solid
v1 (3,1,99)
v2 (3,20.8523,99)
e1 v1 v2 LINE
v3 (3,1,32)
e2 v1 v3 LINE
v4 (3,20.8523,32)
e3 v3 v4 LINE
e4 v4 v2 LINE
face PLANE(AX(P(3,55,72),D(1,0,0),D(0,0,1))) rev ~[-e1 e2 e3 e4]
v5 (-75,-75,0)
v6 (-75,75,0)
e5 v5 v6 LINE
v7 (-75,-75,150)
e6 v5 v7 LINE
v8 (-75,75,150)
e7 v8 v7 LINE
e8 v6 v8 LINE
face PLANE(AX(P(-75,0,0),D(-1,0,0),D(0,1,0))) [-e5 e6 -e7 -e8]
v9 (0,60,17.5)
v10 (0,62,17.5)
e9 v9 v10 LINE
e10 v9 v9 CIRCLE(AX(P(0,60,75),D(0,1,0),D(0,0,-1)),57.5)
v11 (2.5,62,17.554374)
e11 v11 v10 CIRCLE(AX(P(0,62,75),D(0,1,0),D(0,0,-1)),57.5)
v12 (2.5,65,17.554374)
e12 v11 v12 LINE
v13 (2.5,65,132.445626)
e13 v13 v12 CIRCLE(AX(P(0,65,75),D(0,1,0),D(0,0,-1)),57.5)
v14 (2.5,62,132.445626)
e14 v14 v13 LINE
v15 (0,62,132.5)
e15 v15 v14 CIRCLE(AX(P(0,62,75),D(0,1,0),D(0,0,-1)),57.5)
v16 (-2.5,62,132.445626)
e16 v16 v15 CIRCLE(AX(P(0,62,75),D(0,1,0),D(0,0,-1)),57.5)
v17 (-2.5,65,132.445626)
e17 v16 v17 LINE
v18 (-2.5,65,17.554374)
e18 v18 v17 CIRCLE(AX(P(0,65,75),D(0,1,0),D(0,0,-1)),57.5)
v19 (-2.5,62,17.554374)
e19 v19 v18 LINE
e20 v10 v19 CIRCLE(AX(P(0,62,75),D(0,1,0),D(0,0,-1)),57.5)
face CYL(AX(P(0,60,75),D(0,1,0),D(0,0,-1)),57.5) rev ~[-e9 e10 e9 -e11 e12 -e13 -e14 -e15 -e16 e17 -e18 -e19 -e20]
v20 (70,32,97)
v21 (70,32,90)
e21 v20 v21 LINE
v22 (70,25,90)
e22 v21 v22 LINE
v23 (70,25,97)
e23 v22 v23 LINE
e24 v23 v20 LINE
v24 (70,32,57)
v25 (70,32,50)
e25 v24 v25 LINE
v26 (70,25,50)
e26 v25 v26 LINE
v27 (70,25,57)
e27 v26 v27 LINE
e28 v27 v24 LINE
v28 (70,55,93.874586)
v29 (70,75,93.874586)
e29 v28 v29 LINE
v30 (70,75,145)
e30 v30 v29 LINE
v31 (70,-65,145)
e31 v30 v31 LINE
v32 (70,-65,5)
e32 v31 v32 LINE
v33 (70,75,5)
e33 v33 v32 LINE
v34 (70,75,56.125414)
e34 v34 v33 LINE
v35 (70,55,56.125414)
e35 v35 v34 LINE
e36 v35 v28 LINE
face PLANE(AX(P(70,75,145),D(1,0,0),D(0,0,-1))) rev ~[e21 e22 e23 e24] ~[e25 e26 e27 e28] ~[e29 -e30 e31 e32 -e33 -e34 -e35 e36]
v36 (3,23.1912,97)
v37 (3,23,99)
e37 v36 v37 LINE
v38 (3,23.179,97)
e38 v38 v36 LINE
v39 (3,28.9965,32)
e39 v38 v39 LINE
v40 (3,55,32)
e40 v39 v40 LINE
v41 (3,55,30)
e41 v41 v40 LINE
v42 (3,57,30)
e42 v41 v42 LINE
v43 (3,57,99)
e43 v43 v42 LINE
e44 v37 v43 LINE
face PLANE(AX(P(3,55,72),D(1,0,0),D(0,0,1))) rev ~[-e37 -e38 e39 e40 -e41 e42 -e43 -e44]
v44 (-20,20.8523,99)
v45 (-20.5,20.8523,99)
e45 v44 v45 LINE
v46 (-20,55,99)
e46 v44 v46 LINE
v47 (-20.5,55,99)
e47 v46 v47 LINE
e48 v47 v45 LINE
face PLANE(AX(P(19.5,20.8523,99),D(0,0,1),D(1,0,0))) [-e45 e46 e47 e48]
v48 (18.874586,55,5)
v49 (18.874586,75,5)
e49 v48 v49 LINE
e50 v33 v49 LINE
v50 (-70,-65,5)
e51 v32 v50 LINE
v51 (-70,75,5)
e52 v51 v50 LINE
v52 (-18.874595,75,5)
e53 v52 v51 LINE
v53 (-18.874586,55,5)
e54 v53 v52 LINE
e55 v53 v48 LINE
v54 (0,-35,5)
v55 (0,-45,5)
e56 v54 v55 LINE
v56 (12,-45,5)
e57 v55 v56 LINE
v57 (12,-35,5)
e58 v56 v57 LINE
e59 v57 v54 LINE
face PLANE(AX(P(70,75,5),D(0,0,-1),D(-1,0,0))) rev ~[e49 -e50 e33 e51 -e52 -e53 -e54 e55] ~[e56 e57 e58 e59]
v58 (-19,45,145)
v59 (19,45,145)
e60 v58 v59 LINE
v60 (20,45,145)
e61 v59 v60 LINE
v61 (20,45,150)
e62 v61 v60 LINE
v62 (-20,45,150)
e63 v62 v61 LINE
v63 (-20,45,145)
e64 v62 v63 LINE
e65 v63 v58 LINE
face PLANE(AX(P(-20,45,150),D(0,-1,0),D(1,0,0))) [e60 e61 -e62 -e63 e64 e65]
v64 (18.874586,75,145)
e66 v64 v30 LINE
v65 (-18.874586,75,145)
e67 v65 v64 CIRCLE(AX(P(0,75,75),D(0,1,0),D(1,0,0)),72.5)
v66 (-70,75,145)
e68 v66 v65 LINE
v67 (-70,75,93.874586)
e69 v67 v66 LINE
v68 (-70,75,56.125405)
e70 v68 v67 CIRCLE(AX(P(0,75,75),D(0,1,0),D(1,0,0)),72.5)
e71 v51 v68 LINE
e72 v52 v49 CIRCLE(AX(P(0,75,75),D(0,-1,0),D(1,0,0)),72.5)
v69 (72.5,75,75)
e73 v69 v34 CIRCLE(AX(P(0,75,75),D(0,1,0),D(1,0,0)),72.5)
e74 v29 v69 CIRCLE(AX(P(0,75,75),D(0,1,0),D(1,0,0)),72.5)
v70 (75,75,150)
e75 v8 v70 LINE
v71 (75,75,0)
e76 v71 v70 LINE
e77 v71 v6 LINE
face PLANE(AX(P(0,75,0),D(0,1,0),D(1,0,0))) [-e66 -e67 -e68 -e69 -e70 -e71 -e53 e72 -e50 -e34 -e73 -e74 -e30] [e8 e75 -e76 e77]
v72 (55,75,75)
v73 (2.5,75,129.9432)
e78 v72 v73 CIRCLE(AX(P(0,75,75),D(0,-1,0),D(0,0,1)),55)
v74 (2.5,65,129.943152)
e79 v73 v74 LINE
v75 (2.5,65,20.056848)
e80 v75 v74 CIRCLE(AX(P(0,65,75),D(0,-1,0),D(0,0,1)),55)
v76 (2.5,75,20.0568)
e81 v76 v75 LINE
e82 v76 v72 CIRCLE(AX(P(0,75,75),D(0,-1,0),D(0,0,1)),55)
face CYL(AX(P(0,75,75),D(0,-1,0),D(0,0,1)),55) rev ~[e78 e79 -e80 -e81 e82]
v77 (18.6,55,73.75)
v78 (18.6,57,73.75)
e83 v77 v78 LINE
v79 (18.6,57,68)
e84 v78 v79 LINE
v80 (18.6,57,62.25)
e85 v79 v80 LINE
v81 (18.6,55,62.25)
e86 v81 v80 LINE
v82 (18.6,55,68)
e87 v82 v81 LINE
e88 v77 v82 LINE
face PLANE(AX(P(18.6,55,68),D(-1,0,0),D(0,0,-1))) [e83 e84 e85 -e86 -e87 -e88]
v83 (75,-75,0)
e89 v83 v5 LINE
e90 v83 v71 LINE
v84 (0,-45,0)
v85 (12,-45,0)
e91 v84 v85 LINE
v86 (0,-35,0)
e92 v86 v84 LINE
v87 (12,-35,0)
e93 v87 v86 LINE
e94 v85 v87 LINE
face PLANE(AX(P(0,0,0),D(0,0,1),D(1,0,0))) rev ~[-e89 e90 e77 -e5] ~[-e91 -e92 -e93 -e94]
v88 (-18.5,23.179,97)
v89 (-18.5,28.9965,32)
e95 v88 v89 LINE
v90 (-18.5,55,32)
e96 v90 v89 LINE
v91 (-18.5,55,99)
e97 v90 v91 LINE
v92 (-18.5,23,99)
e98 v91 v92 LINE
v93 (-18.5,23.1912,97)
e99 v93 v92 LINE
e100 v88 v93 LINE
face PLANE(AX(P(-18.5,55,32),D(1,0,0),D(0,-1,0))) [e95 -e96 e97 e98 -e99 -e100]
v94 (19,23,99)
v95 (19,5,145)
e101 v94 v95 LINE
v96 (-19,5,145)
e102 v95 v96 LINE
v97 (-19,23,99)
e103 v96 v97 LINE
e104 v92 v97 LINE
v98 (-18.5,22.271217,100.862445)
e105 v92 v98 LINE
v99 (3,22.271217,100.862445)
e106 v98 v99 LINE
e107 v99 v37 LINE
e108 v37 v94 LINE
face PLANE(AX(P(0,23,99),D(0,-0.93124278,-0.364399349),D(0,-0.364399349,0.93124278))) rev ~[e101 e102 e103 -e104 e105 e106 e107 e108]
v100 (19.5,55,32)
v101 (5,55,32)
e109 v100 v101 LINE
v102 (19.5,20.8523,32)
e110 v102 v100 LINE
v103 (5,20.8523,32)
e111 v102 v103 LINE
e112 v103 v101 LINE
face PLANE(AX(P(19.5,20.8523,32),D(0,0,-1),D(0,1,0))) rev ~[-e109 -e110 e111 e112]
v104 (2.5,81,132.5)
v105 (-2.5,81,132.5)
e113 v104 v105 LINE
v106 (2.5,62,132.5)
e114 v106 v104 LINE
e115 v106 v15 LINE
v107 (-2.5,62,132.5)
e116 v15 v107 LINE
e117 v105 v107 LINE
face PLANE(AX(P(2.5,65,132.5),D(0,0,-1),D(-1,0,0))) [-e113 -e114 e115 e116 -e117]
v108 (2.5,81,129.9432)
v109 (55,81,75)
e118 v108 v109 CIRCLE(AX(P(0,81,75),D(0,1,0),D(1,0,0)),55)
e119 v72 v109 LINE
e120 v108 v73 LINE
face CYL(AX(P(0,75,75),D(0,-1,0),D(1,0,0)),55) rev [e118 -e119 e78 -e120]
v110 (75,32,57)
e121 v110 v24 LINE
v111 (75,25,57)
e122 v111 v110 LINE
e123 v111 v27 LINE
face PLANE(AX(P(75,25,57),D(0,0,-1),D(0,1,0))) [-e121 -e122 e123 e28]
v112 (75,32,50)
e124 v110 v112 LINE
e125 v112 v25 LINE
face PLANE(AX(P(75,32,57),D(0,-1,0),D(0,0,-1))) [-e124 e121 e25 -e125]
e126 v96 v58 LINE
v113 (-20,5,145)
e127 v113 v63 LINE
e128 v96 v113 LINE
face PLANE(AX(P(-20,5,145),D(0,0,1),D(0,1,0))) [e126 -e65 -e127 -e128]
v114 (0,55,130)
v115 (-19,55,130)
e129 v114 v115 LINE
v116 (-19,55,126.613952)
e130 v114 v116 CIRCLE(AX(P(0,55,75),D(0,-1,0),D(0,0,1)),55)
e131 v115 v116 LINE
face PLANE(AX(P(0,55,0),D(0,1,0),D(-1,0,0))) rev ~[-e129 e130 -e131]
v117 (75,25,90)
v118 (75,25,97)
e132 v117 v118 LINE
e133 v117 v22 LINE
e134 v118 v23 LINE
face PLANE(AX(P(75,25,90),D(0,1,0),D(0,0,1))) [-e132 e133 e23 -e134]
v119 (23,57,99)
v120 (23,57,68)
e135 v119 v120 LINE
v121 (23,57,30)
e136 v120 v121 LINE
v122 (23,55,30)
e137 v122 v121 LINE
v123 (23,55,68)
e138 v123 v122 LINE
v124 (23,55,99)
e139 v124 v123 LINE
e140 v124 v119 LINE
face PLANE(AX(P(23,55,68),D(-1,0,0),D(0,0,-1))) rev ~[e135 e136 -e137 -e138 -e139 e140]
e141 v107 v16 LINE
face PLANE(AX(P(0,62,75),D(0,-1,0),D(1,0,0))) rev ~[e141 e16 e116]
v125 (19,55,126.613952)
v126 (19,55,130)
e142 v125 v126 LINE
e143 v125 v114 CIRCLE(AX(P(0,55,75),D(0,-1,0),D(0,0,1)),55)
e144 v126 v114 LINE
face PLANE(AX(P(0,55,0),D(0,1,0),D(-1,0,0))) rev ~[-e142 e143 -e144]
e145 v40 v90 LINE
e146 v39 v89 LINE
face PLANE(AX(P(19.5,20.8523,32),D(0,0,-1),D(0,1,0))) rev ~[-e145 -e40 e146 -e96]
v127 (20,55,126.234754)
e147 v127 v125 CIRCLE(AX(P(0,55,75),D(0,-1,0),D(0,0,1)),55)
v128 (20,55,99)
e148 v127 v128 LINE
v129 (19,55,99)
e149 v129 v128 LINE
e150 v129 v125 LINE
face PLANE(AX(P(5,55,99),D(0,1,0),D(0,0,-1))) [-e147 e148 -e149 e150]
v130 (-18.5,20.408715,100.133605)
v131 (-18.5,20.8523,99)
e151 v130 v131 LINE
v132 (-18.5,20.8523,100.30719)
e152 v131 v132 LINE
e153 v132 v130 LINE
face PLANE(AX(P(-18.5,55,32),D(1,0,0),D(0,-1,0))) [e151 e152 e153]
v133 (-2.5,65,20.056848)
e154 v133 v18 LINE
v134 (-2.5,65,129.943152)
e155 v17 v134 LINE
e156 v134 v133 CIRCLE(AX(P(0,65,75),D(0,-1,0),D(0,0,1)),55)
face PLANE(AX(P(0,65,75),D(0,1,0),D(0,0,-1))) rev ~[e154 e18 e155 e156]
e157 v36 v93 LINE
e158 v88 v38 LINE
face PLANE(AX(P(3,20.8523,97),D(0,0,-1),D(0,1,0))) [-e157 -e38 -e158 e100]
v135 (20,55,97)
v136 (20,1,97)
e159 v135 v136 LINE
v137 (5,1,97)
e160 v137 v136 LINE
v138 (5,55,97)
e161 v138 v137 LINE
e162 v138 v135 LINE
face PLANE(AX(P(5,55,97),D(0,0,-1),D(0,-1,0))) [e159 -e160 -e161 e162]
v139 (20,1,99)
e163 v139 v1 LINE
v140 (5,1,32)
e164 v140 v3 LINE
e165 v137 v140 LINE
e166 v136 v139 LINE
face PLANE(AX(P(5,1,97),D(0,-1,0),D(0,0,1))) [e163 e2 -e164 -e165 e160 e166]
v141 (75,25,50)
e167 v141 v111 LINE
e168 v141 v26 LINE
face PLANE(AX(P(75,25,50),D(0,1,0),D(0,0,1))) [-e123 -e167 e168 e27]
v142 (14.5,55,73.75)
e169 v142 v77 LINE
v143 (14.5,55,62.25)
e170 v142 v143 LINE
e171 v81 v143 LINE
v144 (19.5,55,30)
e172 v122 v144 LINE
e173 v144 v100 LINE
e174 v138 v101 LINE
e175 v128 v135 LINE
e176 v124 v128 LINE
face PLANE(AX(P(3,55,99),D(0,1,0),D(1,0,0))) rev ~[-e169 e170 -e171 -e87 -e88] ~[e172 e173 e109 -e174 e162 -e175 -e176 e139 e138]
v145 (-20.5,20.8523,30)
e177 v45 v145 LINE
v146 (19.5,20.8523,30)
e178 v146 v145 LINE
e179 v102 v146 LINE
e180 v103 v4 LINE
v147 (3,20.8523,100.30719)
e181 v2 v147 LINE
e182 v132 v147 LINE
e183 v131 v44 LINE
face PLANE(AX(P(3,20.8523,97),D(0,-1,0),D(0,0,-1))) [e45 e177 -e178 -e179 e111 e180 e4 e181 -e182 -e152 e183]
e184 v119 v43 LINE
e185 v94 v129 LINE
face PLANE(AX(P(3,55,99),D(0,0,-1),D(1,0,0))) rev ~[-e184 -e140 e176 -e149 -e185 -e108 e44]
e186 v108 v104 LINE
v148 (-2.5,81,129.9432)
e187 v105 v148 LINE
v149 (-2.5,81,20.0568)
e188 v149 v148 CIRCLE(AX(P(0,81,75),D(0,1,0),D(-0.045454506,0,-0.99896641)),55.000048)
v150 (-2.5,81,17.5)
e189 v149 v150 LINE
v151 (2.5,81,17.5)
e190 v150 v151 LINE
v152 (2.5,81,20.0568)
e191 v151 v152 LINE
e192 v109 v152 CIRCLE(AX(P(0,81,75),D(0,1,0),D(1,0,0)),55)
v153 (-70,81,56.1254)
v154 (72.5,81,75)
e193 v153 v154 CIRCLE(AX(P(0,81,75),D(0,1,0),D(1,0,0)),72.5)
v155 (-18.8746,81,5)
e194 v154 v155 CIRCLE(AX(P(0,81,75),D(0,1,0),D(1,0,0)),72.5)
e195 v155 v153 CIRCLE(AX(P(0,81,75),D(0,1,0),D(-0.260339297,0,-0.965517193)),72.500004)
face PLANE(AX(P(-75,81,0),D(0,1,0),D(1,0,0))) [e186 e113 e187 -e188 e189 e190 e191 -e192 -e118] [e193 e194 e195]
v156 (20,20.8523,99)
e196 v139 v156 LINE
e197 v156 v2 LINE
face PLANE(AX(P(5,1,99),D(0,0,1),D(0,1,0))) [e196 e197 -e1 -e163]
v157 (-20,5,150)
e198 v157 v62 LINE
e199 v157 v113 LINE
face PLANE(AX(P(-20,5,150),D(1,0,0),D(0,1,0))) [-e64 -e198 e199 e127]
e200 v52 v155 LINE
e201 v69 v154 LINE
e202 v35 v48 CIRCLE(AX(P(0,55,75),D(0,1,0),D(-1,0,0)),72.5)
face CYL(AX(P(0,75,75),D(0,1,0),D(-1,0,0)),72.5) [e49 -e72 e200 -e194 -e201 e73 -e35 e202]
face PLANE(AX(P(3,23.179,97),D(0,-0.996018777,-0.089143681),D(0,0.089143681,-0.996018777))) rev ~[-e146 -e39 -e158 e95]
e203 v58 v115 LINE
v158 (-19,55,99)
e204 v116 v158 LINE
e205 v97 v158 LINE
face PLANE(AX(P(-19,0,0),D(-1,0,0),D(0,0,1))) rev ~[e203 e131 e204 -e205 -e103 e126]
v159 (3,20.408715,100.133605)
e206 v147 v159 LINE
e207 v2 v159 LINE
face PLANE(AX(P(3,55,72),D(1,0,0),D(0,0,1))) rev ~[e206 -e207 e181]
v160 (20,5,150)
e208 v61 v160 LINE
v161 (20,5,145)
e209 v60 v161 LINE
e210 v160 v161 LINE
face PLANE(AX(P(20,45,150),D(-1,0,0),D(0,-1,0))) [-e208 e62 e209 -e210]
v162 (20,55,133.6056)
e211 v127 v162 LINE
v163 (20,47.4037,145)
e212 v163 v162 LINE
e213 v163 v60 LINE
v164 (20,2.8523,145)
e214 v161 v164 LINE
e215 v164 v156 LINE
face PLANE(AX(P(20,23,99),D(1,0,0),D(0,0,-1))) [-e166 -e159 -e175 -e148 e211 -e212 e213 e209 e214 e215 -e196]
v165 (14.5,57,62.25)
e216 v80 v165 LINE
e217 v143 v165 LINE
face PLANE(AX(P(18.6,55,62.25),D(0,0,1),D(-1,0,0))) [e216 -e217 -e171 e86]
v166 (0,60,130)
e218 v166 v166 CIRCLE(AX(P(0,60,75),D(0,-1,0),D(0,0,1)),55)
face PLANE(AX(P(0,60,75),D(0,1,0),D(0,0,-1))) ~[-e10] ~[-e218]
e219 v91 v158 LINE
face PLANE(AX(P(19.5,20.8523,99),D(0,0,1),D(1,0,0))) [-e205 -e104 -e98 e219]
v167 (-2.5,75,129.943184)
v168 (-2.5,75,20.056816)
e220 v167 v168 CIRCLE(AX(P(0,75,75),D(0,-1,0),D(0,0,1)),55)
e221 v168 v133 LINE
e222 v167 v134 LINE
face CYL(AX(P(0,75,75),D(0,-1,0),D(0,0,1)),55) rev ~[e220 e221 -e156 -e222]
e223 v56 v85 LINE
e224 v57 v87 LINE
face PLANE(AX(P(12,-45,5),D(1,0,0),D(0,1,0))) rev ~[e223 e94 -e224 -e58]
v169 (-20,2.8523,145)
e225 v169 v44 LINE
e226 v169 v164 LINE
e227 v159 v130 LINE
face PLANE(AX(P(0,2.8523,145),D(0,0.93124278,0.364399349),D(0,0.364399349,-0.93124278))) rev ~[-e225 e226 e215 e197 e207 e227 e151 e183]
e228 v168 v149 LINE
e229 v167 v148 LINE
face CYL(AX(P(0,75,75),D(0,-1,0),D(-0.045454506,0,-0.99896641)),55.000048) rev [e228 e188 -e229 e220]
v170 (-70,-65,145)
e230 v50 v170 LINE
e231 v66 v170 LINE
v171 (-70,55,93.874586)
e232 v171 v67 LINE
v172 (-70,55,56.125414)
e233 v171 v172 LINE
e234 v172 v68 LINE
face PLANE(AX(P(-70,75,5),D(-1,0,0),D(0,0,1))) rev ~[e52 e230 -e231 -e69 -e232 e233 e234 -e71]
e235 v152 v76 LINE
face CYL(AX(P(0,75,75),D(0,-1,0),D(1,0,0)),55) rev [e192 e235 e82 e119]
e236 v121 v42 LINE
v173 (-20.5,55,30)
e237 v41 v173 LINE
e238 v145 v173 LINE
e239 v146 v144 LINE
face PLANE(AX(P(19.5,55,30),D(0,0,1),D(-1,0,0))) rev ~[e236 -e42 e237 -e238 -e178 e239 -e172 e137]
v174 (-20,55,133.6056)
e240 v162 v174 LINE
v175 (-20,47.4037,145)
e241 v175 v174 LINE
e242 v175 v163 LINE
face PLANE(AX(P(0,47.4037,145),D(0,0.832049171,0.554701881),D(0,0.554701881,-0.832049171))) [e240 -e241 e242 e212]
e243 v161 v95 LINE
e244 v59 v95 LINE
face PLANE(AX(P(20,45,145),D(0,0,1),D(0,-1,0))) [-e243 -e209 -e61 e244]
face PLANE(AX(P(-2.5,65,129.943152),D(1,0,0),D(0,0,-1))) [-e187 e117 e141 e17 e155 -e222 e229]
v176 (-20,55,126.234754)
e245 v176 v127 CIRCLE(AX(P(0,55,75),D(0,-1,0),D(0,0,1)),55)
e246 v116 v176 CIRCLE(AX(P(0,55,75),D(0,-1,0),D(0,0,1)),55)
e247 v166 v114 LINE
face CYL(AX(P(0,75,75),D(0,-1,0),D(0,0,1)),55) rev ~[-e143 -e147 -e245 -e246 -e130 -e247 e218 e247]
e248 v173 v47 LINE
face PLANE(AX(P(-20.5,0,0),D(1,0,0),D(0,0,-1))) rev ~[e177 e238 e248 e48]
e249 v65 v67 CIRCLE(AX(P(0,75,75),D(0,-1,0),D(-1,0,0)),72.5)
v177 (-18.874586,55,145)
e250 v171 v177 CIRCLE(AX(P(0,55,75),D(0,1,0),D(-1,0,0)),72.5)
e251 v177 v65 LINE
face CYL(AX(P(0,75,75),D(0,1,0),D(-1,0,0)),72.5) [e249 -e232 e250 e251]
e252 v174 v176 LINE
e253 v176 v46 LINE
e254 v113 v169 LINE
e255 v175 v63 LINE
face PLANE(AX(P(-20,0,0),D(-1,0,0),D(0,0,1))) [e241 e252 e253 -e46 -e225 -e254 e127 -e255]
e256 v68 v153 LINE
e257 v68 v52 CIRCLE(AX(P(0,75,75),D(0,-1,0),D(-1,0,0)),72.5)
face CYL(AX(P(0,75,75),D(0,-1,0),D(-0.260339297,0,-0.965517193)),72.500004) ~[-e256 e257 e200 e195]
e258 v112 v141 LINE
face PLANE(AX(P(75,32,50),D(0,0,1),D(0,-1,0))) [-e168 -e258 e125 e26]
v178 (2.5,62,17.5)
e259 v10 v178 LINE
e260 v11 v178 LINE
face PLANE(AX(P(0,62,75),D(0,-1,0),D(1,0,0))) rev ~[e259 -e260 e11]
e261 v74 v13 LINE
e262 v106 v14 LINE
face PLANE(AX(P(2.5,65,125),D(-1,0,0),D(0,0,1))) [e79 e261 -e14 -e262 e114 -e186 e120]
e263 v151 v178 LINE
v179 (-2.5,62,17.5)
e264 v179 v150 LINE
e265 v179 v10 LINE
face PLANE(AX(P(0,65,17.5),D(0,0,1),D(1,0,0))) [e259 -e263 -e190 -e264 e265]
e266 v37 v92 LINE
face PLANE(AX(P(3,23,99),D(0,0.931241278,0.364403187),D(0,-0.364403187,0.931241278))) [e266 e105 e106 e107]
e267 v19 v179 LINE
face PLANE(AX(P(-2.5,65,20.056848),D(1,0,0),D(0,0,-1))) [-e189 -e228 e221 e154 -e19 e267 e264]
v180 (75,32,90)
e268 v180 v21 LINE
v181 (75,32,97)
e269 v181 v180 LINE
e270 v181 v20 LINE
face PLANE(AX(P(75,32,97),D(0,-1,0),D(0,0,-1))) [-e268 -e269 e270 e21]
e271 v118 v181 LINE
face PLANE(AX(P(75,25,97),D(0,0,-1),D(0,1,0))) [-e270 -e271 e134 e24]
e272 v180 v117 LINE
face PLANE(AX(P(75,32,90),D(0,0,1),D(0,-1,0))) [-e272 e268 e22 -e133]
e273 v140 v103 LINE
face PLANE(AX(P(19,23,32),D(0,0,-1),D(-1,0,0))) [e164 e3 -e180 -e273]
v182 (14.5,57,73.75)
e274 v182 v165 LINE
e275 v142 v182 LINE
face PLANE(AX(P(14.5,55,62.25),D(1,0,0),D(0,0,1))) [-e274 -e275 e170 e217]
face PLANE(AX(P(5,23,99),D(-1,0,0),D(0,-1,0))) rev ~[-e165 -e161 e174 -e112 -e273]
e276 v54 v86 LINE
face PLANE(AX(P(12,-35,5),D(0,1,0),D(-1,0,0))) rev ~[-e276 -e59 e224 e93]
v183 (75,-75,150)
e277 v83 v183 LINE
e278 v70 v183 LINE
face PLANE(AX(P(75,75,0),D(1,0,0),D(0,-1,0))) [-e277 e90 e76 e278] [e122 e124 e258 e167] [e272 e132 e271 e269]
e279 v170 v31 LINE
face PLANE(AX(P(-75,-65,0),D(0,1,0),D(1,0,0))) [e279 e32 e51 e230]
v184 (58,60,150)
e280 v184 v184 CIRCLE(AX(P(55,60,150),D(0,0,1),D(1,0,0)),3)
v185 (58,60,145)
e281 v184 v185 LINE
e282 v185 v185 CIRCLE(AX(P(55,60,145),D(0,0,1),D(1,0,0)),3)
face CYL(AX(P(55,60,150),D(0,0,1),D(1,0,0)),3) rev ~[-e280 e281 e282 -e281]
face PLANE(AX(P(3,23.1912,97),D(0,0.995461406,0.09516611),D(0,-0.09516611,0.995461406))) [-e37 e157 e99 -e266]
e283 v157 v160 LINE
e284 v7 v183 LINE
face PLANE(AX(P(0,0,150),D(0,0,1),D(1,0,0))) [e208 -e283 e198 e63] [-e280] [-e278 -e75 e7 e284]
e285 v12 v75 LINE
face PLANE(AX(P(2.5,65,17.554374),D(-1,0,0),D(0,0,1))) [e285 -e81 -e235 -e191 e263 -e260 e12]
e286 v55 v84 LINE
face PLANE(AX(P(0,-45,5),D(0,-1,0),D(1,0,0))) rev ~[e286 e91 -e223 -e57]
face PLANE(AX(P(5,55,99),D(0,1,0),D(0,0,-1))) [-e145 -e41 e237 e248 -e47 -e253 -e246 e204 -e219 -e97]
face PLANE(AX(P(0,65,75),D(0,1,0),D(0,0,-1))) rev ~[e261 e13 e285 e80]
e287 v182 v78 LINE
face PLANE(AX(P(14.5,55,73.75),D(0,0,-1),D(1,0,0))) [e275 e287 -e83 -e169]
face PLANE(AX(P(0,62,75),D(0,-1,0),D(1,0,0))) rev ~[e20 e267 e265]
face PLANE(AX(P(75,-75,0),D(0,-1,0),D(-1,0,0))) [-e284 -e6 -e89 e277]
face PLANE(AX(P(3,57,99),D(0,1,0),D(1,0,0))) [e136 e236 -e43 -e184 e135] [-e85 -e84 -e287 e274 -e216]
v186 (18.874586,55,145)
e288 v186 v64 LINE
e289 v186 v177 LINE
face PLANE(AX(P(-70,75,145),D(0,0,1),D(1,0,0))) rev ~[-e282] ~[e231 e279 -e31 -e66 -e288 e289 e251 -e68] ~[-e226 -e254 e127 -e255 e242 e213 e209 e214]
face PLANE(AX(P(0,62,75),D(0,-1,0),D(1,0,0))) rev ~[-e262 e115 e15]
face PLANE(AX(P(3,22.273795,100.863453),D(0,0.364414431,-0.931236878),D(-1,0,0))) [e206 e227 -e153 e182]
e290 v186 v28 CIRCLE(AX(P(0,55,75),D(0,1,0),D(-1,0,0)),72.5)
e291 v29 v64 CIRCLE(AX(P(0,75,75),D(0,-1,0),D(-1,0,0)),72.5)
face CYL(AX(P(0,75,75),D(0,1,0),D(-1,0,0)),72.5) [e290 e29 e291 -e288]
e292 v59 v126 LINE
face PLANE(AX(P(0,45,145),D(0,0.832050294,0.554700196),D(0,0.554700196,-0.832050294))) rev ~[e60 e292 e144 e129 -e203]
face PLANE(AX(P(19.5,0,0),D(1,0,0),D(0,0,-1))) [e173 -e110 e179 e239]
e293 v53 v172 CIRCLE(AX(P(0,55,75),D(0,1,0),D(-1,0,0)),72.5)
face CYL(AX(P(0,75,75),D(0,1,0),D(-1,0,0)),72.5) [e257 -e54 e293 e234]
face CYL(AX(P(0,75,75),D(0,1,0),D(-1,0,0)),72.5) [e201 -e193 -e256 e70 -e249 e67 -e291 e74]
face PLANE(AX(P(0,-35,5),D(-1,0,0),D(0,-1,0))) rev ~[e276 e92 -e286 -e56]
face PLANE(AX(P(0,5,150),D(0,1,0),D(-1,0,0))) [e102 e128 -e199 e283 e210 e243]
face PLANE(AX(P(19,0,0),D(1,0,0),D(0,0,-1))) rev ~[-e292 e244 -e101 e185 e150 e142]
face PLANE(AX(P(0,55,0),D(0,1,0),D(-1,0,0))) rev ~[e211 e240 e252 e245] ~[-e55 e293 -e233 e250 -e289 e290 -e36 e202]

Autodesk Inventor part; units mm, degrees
sketch "Náčrt1" plane through (0, 0, 0) normal (0, 0, 1) x (1, 0, 0)
  line L0 (0, 105) -> (0, -105) projected
  line L1 (-105, 0) -> (105, 0) projected
  line L2 (-75, 75) -> (75, 75)
  line L3 (75, 75) -> (75, -75)
  line L4 (75, -75) -> (-75, -75)
  line L5 (-75, -75) -> (-75, 75)
  point P0 (0, 0)
  dimension "d0" = 150
  dimension "d1" = 150
extrude "Vysunutí1" add sketch "Náčrt1" along normal blind 150
sketch "Náčrt2" plane through (-75, 75, 0) normal (0, 1, 0) x (1, 0, 0)
  line L0 (0, 0) -> (0, -150) projected
  line L1 (150, 0) -> (0, 0) projected
  line L2 (5, -145) -> (145, -145)
  line L3 (145, -145) -> (145, -5)
  line L4 (145, -5) -> (5, -5)
  line L5 (5, -5) -> (5, -145)
  point P0 (75, 0)
  dimension "d4" = 140
  dimension "d5" = 140
  dimension "d6" = 5
  dimension "d7" = 5
extrude "Vysunutí2" cut sketch "Náčrt2" against normal blind 140
sketch "Náčrt3" plane through (0, 0, 150) normal (0, 0, 1) x (1, 0, 0)
  line L0 (-20, 45) -> (20, 45)
  line L1 (20, 45) -> (20, 5)
  line L2 (20, 5) -> (-20, 5)
  line L3 (-20, 5) -> (-20, 45)
  line L4 (0, 105) -> (0, -105) projected
  line L5 (-105, 0) -> (105, 0) projected
  line L6 (-75, -75) -> (75, -75) projected
  circle A0 centre (55, 60) radius 3
  line L7 (75, -75) -> (75, 75) projected
  line L8 (75, 75) -> (-75, 75) projected
  point P0 (0, 0)
  dimension "d10" = 40
  dimension "d11" = 40
  dimension "d12" = 80
  dimension "d13" = 6
  dimension "d14" = 20
  dimension "d15" = 15
extrude "Vysunutí3" cut sketch "Náčrt3" against normal blind 10 contours L0 L4 L2 L3 | L0 L1 L2 L4 | A0
sketch "Náčrt4" plane through (-70, 75, 5) normal (0, 0, 1) x (1, 0, 0)
  line L0 (70, -120) -> (82, -120)
  line L1 (82, -120) -> (82, -110)
  line L2 (82, -110) -> (70, -110)
  line L3 (70, -110) -> (70, -120)
  line L4 (-5, -150) -> (145, -150) projected
  line L5 (145, -150) -> (145, 0) projected
  point P0 (70, -75)
  point P1 (70, -115)
  dimension "d18" = 12
  dimension "d19" = 10
  dimension "d20" = 30
  dimension "d21" = 75
extrude "Vysunutí4" cut sketch "Náčrt4" against normal blind 10
sketch "Náčrt5" plane through (75, -75, 0) normal (1, 0, 0) x (0, 0, -1)
  line L0 (0, 0) -> (0, 150) projected
  line L1 (0, 0) -> (-150, 0) projected
  line L2 (-97, 107) -> (-90, 107)
  line L3 (-90, 107) -> (-90, 100)
  line L4 (-90, 100) -> (-97, 100)
  line L5 (-97, 100) -> (-97, 107)
  line L6 (-57, 107) -> (-50, 107)
  line L7 (-50, 107) -> (-50, 100)
  line L8 (-50, 100) -> (-57, 100)
  line L9 (-57, 100) -> (-57, 107)
  point P0 (0, 75)
  point P1 (-75, 0)
  dimension "d24" = 7
  dimension "d25" = 7
  dimension "d26" = 90
  dimension "d27" = 100
  dimension "d184" = 7
  dimension "d185" = 7
  dimension "d186" = 100
  dimension "d187" = 50
extrude "Vysunutí5" cut sketch "Náčrt5" against normal blind 10
ref_plane "Pracovní rovina3" through (0, 75, 0) normal (0, 1, 0) x (-1, 0, 0)
sketch "Náčrt8" plane through (0, 75, 0) normal (0, 1, 0) x (-1, 0, 0)
  line L0 (70, 145) -> (70, 5) projected
  line L1 (-70, 145) -> (70, 145) projected
  line L2 (70, 5) -> (-70, 5) projected
  line L3 (0, 5) -> (0, 0) projected
  circle A0 centre (0, 75) radius 72.5
  point P0 (70, 75)
  point P1 (70, 75)
  dimension "d132" = 70
  dimension "d133" = 70
  dimension "d134" = 145
extrude "Vysunutí6" add sketch "Náčrt8" against normal blind 20 contours A0 L0 | L0 A0 L2 L1 | L1 A0 | A0 L3 L2 | L2 L3 A0
sketch "Náčrt10" plane through (0, 75, 0) normal (0, 1, 0) x (1, 0, 0)
  line L0 (-75, 0) -> (-75, -150) projected
  line L1 (75, 0) -> (-75, 0) projected
  point P0 (0, 0)
  point P1 (0, -75)
  point P2 (-75, -75)
  point P3 (0, 0)
  dimension "d38" = 75
  dimension "d39" = 75
hole "Díra1" at (0, 75, 75) direction (0, -1, 0) diameter 110 depth 50
sketch "Náčrt11" plane through (0, 0, 0) normal (1, 0, 0) x (0, 1, 0)
  line L0 (5, 150) -> (5, 145) projected
  line L1 (75, 145) -> (-65, 145) projected
  line L2 (45, 150) -> (45, 145) projected
  line L3 (55, 140) -> (55, 75) projected
  line L4 (55, 130) -> (75, 130) projected
  line L5 (45, 145) -> (55, 130)
  line L6 (55, 99) -> (23, 99)
  line L7 (23, 99) -> (5, 145)
  line L8 (23, 99) -> (23, 42)
  line L9 (55, 99) -> (55, 130)
  line L10 (2.8523, 145) -> (20.8523, 99)
  line L11 (20.8523, 99) -> (23, 99)
  line L12 (47.4037, 145) -> (55, 133.6056)
  line L13 (2.8523, 145) -> (5, 145)
  line L14 (45, 145) -> (47.4037, 145)
  line L15 (55, 130) -> (55, 133.6056)
  point P0 (0, 0)
  dimension "d51" = 32
  dimension "d52" = 46
  dimension "d53" = 57
  dimension "d54" = 2
  dimension "d55" = 2
extrude "Vysunutí8" add sketch "Náčrt11" along normal mid plane 40 contours L12 L3 L5 L1 | L7 L11 L10 L1
sketch "Náčrt14" plane through (-20, 0, 0) normal (-1, 0, 0) x (0, 0, 1)
  line L0 (99, 20.8523) -> (99, 23) projected
  line L1 (99, 23) -> (99, 55)
  line L2 (130, 55) -> (20, 55) projected
  line L3 (145, 45) -> (130, 55) projected
  line L4 (130, 55) -> (145, 45)
  line L5 (145, 5) -> (145, 45) projected
  line L6 (145, 45) -> (145, 5)
  line L7 (99, 23) -> (145, 5) projected
  line L8 (145, 5) -> (99, 23)
  point P0 (0, 0)
extrude "Vysunutí9" add sketch "Náčrt14" against normal blind 1
sketch "Náčrt15" plane through (20, 0, 0) normal (1, 0, 0) x (0, 0, -1)
  line L0 (-145, 75) -> (-145, -65) projected
  line L1 (-99, 23) -> (-145, 5) projected
  line L2 (-145, 5) -> (-99, 23)
  line L3 (-99, 23) -> (-99, 55) projected
  line L4 (-99, 23) -> (-99, 55)
  line L5 (-99, 55) -> (-130, 55)
  line L6 (-145, 45) -> (-130, 55) projected
  line L7 (-130, 55) -> (-145, 45)
  line L8 (-145, 45) -> (-145, 5)
  point P0 (0, 0)
extrude "Vysunutí10" add sketch "Náčrt15" against normal blind 1
ref_plane "Pracovní rovina8" through (19.5, 0, 0) normal (1, 0, 0) x (0, 0, -1)
sketch "Náčrt16" plane through (19.5, 0, 0) normal (1, 0, 0) x (0, 0, -1)
  line L0 (-99, 55) -> (-99, 23) projected
  line L1 (-99, 20.8523) -> (-145, 2.8523) projected
  line L2 (-126.614, 55) -> (-99, 55) projected
  line L3 (-99, 20.8523) -> (-32, 20.8523)
  line L4 (-32, 20.8523) -> (-32, 55)
  line L5 (-32, 20.8523) -> (-30, 20.8523)
  line L6 (-30, 20.8523) -> (-30, 55)
  line L7 (-30, 55) -> (-32, 55)
  point P0 (0, 0)
  point P1 (-130, 55)
  dimension "d69" = 67
  dimension "d70" = 2
extrude "Vysunutí11" add sketch "Náčrt16" against normal blind 40
sketch "Náčrt17" plane through (19.5, 20.8523, 32) normal (0, 0, 1) x (1, 0, 0)
  line L0 (-40, 34.1477) -> (-40, 0) projected
  line L1 (0, 0) -> (-40, 0) projected
  line L2 (0, 34.1477) -> (-40, 34.1477) projected
  line L3 (-40, 0) -> (-40, 34.1477)
  line L4 (-40, 34.1477) -> (-38, 34.1477)
  line L5 (-38, 34.1477) -> (-38, 0)
  point P0 (-19.5, -20.8523)
  dimension "d73" = 2
extrude "Vysunutí12" add sketch "Náčrt17" along normal blind 67
ref_plane "Pracovní rovina10" through (19, 23, 99) normal (0, 0, -1) x (-1, 0, 0)
sketch "Náčrt20" plane through (19, 23, 99) normal (0, 0, -1) x (-1, 0, 0)
  line L0 (0, -18) -> (0, 22) projected
  line L1 (0, -18) -> (0, 0) projected
  line L2 (0, 0) -> (37.5, 0) projected
  line L3 (37.5, 0) -> (38, 0) projected
  line L4 (38, 0) -> (38, -18) projected
  line L5 (38, -18) -> (0, -18) projected
  line L6 (38, 0) -> (1.4186, 0)
  line L7 (38, 32) -> (19, 32) projected
  line L8 (19, 32) -> (0, 32) projected
  line L9 (1.4186, 0) -> (1.4186, 32)
  line L10 (1.4186, 0) -> (1.4186, -18)
  line L11 (1.4186, -18) -> (-0.5814, -18)
  line L12 (-0.5814, -18) -> (-0.5814, 32)
  line L13 (-0.5814, 32) -> (1.4186, 32)
  line L14 (38, 0) -> (16, 0)
  line L15 (16, 0) -> (16, 32)
  line L16 (16, 32) -> (14, 32)
  line L17 (14, 32) -> (14, -18)
  line L18 (14, -18) -> (16, -18)
  line L19 (-1, -18) -> (39, -18) projected
  line L20 (16, 0) -> (16, -18)
  line L21 (-0.5814, 32) -> (-4.5814, 32)
  line L22 (-4.5814, 32) -> (-4.5814, -18)
  line L23 (-4.5814, -18) -> (-6.5814, -18)
  line L24 (-6.5814, -18) -> (-6.5814, 32)
  line L25 (-6.5814, 32) -> (-4.5814, 32)
  line L26 (-6.5814, -18) -> (-6.5814, -20.025)
  line L27 (-6.5814, -20.025) -> (-4.5814, -20.025)
  line L28 (-4.5814, -20.025) -> (-4.5814, -18)
  line L29 (-0.5814, -18) -> (-0.5814, -22)
  line L30 (-0.5814, -22) -> (1.4186, -22)
  line L31 (1.4186, -22) -> (1.4186, -18)
  line L32 (-6.5814, -20.025) -> (-6.5814, -22)
  line L33 (-6.5814, -22) -> (-4.5814, -22)
  line L34 (-4.5814, -22) -> (-4.5814, -20.025)
  line L35 (14, -18) -> (14, -22)
  line L36 (14, -22) -> (16, -22)
  line L37 (16, -22) -> (16, -18)
  point P0 (19, -23)
  point P1 (0, 32)
  point P2 (-5.5814, -18)
  point P3 (-5.5814, 32)
  dimension "d83" = 2
  dimension "d84" = 22
  dimension "d85" = 2
  dimension "d86" = 4
  dimension "d87" = 2
  dimension "d94" = 50
  dimension "d95" = 50
  dimension "d96" = 4
extrude "Vysunutí14" add sketch "Náčrt20" along normal blind 67 contours L17 L2 L20 L5 | L5 L37 L36 L35 | L17 L8 L15 L2
ref_plane "Pracovní rovina11" through (-75, 60, 0) normal (0, 1, 0) x (1, 0, 0)
sketch "Náčrt26" plane through (-75, 60, 0) normal (0, 1, 0) x (1, 0, 0)
  circle A0 centre (75, -75) radius 55 projected
  line L0 (75, -5) -> (75, 0) projected
  arc A1 (56.1254, -5) -> (5, -56.1254) centre (75, -75) ccw projected
  circle A2 centre (75, -75) radius 57.5
  dimension "d136" = 115
hole "Díra3" at (0, 60, 75) direction (0, 1, 0) diameter 115 depth 5
sketch "Náčrt28" plane through (5, 23, 99) normal (1, 0, 0) x (0, 0, -1)
  line L0 (0, 32) -> (67, 32) projected
  line L1 (0, 32) -> (2, 32)
  line L2 (2, 32) -> (2, -22)
  line L3 (2, -22) -> (0, -22)
  line L4 (0, -22) -> (0, 32)
  point P0 (99, -23)
  point P1 (2, 32)
  point P2 (50, 32)
  dimension "d157" = 2
  dimension "d158" = 54
extrude "Vysunutí20" add sketch "Náčrt28" along normal blind 15
sketch "Náčrt27" plane through (0, 65, 75) normal (0, -1, 0) x (1, 0, 0)
  circle A0 centre (0, 0) radius 55 projected
  line L0 (-2.5, -57.5) -> (2.5, -57.5)
  line L1 (2.5, -57.5) -> (2.5, -50)
  line L2 (2.5, -50) -> (-2.5, -50)
  line L3 (-2.5, -50) -> (-2.5, -57.5)
  line L4 (0, 105) -> (0, -105) projected
  line L5 (75, -75) -> (-75, -75) projected
  line L6 (2.5, 50) -> (2.5, 57.5)
  line L7 (2.5, 57.5) -> (-2.5, 57.5)
  line L8 (-2.5, 57.5) -> (-2.5, 50)
  line L9 (-2.5, 50) -> (2.5, 50)
  circle A1 centre (0, 0) radius 57.5 projected
  point P0 (0, -75)
  point P1 (52.6504, -23.1124)
  point P2 (-52.6504, -23.1124)
  dimension "d146" = 5
  dimension "d148" = 25
  dimension "d155" = 360
extrude "Vysunutí19" cut sketch "Náčrt27" along normal blind 3 and the other way blind 10 contours L6 L9 L4 A0 | A0 L4 A1 L6 | L1 A1 L4 A0 | A0 L4 L2 L1 | L4 L9 L8 A0 | A0 L8 A1 L4 | A1 L7 L6 | L4 A1 L3 A0 | A0 L3 L2 L4 | L1 L0 A1 | A1 L8 L7 | L0 L3 A1
sketch "Náčrt30" plane through (-75, 75, 0) normal (0, 1, 0) x (1, 0, 0)
  arc A0 (56.1254, -5) -> (5, -56.1254) centre (75, -75) ccw projected
  arc A1 (72.5, -20.0568) -> (72.5, -129.9432) centre (75, -75) ccw projected
  circle A2 centre (75, -75) radius 72.5
  circle A3 centre (75, -75) radius 55
  point P0 (75, 0)
  point P1 (72.5, -129.9432)
  point P2 (5, -56.1254)
  point P3 (56.1254, -5)
extrude "Vysunutí22" add sketch "Náčrt30" along normal blind 6
sketch "Náčrt31" plane through (0, 81, 75) normal (0, 1, 0) x (1, 0, 0)
  circle A0 centre (0, 0) radius 55 projected
  line L0 (-2.5, 54.9432) -> (-2.5, 57.5) projected
  line L1 (-2.5, 57.5) -> (2.5, 57.5) projected
  line L2 (2.5, 57.5) -> (2.5, 54.9432) projected
  line L3 (-2.5, -57.5) -> (-2.5, -54.9432) projected
  line L4 (2.5, -57.5) -> (-2.5, -57.5) projected
  line L5 (2.5, -54.9432) -> (2.5, -57.5) projected
  line L6 (-2.5, -57.5) -> (2.5, -57.5)
  line L7 (2.5, -57.5) -> (2.5, -53.9565)
  line L8 (2.5, -53.9565) -> (-2.5, -53.9565)
  line L9 (-2.5, -53.9565) -> (-2.5, -57.5)
  line L10 (2.5, 57.5) -> (-2.5, 57.5)
  line L11 (-2.5, 57.5) -> (-2.5, 54.0591)
  line L12 (-2.5, 54.0591) -> (2.5, 54.0591)
  line L13 (2.5, 54.0591) -> (2.5, 57.5)
  point P0 (0, 75)
  dimension "d166" = 3.5435
  dimension "d167" = 3.4409
extrude "Vysunutí23" cut sketch "Náčrt31" against normal blind 6 contours A0 L0 L1 L2 | L5 L4 L3 A0
sketch "Náčrt32" plane through (-19, 5, 145) normal (0, 0.9312, 0.3644) x (1, 0, 0)
  line L0 (22, 49.3964) -> (0.5, 49.3964) projected
  line L1 (0.5, 49.3964) -> (22, 49.3964)
  line L2 (22, 49.3964) -> (22, 47.3964)
  line L3 (22, 47.3964) -> (0.5, 47.3964)
  line L4 (0.5, 47.3964) -> (0.5, 49.3964)
  point P0 (19, 133.2082)
  point P1 (22, 49.3964)
  dimension "d171" = 2
extrude "Vysunutí24" cut sketch "Náčrt32" against normal blind 8
sketch "Náčrt33" plane through (3, 55, 99) normal (0, 1, 0) x (1, 0, 0)
  line L0 (0, 0) -> (17, 0) projected
  line L1 (0, 0) -> (16.5, 0)
  line L2 (16.5, 69) -> (0, 69)
  line L3 (0, 69) -> (0, 0)
  line L4 (16.5, 67) -> (2, 67) projected
  line L5 (16.5, 69) -> (-23.5, 69) projected
  line L6 (16.5, 69) -> (16.5, 67) projected
  line L7 (11.5, 25.25) -> (15.6, 25.25)
  line L8 (15.6, 25.25) -> (15.6, 36.75)
  line L9 (15.6, 36.75) -> (11.5, 36.75)
  line L10 (11.5, 36.75) -> (11.5, 25.25)
  line L11 (20, 0) -> (20, 69)
  line L12 (20, 69) -> (16.5, 69)
  line L13 (20, 0) -> (16.5, 0)
  line L14 (0, 0) -> (0, 67) projected
  line L15 (2, 35) -> (2, 35) projected
  line L16 (2, 31) -> (22.5208, 31)
  line L17 (2, 35) -> (2, 35)
  line L18 (0, 35) -> (0, 27)
  point P0 (-3, 99)
  point P1 (0, 51)
  dimension "d174" = 11.5
  dimension "d175" = 4.1
  dimension "d176" = 20
  dimension "d177" = 11.5
extrude "Vysunutí25" add sketch "Náčrt33" along normal blind 2
sketch "Náčrt34" plane through (3, 1, 99) normal (-1, 0, 0) x (0, 0, 1)
  line L0 (0, 19.8523) -> (0, 0) projected
  line L1 (-67, 54) -> (-67, 19.8523) projected
  line L2 (0, 19.8523) -> (-67, 19.8523)
  line L3 (-67, 19.8523) -> (-67, 22)
  line L4 (-67, 22) -> (-67, 19.8523)
  line L5 (-2, 0) -> (-2, 54) projected
  line L6 (0, 54) -> (0, 22) projected
  line L7 (0, 22) -> (0, 19.8523)
  line L8 (46, 4) -> (0, 22) projected
  line L9 (0, 22) -> (-67, 27.9965)
  line L10 (-67, 19.8523) -> (-67, 0) projected
  line L11 (-67, 19.8523) -> (-67, 27.9965)
  point P0 (-99, -1)
extrude "Vysunutí26" add sketch "Náčrt34" along normal blind 22
sketch "Náčrt35" plane through (3, 20.8523, 99) normal (-1, 0, 0) x (0, 0, 1)
  line L0 (0, 0) -> (0, -19.8523) projected
  line L1 (0, 0) -> (-2, 0)
  line L2 (-2, -19.8523) -> (-2, 34.1477) projected
  line L3 (-2, 0) -> (-2, 2.3389)
  line L4 (-2, 2.3389) -> (0, 2.1477)
  line L5 (0, 2.1477) -> (5.4885, 0)
  line L6 (46, -15.8523) -> (0, 2.1477) projected
  line L7 (0, 0) -> (5.4885, 0)
  point P0 (-99, -20.8523)
extrude "Vysunutí27" add sketch "Náčrt35" along normal blind 22
properties part number "Box na elektrotechniku oprava"
